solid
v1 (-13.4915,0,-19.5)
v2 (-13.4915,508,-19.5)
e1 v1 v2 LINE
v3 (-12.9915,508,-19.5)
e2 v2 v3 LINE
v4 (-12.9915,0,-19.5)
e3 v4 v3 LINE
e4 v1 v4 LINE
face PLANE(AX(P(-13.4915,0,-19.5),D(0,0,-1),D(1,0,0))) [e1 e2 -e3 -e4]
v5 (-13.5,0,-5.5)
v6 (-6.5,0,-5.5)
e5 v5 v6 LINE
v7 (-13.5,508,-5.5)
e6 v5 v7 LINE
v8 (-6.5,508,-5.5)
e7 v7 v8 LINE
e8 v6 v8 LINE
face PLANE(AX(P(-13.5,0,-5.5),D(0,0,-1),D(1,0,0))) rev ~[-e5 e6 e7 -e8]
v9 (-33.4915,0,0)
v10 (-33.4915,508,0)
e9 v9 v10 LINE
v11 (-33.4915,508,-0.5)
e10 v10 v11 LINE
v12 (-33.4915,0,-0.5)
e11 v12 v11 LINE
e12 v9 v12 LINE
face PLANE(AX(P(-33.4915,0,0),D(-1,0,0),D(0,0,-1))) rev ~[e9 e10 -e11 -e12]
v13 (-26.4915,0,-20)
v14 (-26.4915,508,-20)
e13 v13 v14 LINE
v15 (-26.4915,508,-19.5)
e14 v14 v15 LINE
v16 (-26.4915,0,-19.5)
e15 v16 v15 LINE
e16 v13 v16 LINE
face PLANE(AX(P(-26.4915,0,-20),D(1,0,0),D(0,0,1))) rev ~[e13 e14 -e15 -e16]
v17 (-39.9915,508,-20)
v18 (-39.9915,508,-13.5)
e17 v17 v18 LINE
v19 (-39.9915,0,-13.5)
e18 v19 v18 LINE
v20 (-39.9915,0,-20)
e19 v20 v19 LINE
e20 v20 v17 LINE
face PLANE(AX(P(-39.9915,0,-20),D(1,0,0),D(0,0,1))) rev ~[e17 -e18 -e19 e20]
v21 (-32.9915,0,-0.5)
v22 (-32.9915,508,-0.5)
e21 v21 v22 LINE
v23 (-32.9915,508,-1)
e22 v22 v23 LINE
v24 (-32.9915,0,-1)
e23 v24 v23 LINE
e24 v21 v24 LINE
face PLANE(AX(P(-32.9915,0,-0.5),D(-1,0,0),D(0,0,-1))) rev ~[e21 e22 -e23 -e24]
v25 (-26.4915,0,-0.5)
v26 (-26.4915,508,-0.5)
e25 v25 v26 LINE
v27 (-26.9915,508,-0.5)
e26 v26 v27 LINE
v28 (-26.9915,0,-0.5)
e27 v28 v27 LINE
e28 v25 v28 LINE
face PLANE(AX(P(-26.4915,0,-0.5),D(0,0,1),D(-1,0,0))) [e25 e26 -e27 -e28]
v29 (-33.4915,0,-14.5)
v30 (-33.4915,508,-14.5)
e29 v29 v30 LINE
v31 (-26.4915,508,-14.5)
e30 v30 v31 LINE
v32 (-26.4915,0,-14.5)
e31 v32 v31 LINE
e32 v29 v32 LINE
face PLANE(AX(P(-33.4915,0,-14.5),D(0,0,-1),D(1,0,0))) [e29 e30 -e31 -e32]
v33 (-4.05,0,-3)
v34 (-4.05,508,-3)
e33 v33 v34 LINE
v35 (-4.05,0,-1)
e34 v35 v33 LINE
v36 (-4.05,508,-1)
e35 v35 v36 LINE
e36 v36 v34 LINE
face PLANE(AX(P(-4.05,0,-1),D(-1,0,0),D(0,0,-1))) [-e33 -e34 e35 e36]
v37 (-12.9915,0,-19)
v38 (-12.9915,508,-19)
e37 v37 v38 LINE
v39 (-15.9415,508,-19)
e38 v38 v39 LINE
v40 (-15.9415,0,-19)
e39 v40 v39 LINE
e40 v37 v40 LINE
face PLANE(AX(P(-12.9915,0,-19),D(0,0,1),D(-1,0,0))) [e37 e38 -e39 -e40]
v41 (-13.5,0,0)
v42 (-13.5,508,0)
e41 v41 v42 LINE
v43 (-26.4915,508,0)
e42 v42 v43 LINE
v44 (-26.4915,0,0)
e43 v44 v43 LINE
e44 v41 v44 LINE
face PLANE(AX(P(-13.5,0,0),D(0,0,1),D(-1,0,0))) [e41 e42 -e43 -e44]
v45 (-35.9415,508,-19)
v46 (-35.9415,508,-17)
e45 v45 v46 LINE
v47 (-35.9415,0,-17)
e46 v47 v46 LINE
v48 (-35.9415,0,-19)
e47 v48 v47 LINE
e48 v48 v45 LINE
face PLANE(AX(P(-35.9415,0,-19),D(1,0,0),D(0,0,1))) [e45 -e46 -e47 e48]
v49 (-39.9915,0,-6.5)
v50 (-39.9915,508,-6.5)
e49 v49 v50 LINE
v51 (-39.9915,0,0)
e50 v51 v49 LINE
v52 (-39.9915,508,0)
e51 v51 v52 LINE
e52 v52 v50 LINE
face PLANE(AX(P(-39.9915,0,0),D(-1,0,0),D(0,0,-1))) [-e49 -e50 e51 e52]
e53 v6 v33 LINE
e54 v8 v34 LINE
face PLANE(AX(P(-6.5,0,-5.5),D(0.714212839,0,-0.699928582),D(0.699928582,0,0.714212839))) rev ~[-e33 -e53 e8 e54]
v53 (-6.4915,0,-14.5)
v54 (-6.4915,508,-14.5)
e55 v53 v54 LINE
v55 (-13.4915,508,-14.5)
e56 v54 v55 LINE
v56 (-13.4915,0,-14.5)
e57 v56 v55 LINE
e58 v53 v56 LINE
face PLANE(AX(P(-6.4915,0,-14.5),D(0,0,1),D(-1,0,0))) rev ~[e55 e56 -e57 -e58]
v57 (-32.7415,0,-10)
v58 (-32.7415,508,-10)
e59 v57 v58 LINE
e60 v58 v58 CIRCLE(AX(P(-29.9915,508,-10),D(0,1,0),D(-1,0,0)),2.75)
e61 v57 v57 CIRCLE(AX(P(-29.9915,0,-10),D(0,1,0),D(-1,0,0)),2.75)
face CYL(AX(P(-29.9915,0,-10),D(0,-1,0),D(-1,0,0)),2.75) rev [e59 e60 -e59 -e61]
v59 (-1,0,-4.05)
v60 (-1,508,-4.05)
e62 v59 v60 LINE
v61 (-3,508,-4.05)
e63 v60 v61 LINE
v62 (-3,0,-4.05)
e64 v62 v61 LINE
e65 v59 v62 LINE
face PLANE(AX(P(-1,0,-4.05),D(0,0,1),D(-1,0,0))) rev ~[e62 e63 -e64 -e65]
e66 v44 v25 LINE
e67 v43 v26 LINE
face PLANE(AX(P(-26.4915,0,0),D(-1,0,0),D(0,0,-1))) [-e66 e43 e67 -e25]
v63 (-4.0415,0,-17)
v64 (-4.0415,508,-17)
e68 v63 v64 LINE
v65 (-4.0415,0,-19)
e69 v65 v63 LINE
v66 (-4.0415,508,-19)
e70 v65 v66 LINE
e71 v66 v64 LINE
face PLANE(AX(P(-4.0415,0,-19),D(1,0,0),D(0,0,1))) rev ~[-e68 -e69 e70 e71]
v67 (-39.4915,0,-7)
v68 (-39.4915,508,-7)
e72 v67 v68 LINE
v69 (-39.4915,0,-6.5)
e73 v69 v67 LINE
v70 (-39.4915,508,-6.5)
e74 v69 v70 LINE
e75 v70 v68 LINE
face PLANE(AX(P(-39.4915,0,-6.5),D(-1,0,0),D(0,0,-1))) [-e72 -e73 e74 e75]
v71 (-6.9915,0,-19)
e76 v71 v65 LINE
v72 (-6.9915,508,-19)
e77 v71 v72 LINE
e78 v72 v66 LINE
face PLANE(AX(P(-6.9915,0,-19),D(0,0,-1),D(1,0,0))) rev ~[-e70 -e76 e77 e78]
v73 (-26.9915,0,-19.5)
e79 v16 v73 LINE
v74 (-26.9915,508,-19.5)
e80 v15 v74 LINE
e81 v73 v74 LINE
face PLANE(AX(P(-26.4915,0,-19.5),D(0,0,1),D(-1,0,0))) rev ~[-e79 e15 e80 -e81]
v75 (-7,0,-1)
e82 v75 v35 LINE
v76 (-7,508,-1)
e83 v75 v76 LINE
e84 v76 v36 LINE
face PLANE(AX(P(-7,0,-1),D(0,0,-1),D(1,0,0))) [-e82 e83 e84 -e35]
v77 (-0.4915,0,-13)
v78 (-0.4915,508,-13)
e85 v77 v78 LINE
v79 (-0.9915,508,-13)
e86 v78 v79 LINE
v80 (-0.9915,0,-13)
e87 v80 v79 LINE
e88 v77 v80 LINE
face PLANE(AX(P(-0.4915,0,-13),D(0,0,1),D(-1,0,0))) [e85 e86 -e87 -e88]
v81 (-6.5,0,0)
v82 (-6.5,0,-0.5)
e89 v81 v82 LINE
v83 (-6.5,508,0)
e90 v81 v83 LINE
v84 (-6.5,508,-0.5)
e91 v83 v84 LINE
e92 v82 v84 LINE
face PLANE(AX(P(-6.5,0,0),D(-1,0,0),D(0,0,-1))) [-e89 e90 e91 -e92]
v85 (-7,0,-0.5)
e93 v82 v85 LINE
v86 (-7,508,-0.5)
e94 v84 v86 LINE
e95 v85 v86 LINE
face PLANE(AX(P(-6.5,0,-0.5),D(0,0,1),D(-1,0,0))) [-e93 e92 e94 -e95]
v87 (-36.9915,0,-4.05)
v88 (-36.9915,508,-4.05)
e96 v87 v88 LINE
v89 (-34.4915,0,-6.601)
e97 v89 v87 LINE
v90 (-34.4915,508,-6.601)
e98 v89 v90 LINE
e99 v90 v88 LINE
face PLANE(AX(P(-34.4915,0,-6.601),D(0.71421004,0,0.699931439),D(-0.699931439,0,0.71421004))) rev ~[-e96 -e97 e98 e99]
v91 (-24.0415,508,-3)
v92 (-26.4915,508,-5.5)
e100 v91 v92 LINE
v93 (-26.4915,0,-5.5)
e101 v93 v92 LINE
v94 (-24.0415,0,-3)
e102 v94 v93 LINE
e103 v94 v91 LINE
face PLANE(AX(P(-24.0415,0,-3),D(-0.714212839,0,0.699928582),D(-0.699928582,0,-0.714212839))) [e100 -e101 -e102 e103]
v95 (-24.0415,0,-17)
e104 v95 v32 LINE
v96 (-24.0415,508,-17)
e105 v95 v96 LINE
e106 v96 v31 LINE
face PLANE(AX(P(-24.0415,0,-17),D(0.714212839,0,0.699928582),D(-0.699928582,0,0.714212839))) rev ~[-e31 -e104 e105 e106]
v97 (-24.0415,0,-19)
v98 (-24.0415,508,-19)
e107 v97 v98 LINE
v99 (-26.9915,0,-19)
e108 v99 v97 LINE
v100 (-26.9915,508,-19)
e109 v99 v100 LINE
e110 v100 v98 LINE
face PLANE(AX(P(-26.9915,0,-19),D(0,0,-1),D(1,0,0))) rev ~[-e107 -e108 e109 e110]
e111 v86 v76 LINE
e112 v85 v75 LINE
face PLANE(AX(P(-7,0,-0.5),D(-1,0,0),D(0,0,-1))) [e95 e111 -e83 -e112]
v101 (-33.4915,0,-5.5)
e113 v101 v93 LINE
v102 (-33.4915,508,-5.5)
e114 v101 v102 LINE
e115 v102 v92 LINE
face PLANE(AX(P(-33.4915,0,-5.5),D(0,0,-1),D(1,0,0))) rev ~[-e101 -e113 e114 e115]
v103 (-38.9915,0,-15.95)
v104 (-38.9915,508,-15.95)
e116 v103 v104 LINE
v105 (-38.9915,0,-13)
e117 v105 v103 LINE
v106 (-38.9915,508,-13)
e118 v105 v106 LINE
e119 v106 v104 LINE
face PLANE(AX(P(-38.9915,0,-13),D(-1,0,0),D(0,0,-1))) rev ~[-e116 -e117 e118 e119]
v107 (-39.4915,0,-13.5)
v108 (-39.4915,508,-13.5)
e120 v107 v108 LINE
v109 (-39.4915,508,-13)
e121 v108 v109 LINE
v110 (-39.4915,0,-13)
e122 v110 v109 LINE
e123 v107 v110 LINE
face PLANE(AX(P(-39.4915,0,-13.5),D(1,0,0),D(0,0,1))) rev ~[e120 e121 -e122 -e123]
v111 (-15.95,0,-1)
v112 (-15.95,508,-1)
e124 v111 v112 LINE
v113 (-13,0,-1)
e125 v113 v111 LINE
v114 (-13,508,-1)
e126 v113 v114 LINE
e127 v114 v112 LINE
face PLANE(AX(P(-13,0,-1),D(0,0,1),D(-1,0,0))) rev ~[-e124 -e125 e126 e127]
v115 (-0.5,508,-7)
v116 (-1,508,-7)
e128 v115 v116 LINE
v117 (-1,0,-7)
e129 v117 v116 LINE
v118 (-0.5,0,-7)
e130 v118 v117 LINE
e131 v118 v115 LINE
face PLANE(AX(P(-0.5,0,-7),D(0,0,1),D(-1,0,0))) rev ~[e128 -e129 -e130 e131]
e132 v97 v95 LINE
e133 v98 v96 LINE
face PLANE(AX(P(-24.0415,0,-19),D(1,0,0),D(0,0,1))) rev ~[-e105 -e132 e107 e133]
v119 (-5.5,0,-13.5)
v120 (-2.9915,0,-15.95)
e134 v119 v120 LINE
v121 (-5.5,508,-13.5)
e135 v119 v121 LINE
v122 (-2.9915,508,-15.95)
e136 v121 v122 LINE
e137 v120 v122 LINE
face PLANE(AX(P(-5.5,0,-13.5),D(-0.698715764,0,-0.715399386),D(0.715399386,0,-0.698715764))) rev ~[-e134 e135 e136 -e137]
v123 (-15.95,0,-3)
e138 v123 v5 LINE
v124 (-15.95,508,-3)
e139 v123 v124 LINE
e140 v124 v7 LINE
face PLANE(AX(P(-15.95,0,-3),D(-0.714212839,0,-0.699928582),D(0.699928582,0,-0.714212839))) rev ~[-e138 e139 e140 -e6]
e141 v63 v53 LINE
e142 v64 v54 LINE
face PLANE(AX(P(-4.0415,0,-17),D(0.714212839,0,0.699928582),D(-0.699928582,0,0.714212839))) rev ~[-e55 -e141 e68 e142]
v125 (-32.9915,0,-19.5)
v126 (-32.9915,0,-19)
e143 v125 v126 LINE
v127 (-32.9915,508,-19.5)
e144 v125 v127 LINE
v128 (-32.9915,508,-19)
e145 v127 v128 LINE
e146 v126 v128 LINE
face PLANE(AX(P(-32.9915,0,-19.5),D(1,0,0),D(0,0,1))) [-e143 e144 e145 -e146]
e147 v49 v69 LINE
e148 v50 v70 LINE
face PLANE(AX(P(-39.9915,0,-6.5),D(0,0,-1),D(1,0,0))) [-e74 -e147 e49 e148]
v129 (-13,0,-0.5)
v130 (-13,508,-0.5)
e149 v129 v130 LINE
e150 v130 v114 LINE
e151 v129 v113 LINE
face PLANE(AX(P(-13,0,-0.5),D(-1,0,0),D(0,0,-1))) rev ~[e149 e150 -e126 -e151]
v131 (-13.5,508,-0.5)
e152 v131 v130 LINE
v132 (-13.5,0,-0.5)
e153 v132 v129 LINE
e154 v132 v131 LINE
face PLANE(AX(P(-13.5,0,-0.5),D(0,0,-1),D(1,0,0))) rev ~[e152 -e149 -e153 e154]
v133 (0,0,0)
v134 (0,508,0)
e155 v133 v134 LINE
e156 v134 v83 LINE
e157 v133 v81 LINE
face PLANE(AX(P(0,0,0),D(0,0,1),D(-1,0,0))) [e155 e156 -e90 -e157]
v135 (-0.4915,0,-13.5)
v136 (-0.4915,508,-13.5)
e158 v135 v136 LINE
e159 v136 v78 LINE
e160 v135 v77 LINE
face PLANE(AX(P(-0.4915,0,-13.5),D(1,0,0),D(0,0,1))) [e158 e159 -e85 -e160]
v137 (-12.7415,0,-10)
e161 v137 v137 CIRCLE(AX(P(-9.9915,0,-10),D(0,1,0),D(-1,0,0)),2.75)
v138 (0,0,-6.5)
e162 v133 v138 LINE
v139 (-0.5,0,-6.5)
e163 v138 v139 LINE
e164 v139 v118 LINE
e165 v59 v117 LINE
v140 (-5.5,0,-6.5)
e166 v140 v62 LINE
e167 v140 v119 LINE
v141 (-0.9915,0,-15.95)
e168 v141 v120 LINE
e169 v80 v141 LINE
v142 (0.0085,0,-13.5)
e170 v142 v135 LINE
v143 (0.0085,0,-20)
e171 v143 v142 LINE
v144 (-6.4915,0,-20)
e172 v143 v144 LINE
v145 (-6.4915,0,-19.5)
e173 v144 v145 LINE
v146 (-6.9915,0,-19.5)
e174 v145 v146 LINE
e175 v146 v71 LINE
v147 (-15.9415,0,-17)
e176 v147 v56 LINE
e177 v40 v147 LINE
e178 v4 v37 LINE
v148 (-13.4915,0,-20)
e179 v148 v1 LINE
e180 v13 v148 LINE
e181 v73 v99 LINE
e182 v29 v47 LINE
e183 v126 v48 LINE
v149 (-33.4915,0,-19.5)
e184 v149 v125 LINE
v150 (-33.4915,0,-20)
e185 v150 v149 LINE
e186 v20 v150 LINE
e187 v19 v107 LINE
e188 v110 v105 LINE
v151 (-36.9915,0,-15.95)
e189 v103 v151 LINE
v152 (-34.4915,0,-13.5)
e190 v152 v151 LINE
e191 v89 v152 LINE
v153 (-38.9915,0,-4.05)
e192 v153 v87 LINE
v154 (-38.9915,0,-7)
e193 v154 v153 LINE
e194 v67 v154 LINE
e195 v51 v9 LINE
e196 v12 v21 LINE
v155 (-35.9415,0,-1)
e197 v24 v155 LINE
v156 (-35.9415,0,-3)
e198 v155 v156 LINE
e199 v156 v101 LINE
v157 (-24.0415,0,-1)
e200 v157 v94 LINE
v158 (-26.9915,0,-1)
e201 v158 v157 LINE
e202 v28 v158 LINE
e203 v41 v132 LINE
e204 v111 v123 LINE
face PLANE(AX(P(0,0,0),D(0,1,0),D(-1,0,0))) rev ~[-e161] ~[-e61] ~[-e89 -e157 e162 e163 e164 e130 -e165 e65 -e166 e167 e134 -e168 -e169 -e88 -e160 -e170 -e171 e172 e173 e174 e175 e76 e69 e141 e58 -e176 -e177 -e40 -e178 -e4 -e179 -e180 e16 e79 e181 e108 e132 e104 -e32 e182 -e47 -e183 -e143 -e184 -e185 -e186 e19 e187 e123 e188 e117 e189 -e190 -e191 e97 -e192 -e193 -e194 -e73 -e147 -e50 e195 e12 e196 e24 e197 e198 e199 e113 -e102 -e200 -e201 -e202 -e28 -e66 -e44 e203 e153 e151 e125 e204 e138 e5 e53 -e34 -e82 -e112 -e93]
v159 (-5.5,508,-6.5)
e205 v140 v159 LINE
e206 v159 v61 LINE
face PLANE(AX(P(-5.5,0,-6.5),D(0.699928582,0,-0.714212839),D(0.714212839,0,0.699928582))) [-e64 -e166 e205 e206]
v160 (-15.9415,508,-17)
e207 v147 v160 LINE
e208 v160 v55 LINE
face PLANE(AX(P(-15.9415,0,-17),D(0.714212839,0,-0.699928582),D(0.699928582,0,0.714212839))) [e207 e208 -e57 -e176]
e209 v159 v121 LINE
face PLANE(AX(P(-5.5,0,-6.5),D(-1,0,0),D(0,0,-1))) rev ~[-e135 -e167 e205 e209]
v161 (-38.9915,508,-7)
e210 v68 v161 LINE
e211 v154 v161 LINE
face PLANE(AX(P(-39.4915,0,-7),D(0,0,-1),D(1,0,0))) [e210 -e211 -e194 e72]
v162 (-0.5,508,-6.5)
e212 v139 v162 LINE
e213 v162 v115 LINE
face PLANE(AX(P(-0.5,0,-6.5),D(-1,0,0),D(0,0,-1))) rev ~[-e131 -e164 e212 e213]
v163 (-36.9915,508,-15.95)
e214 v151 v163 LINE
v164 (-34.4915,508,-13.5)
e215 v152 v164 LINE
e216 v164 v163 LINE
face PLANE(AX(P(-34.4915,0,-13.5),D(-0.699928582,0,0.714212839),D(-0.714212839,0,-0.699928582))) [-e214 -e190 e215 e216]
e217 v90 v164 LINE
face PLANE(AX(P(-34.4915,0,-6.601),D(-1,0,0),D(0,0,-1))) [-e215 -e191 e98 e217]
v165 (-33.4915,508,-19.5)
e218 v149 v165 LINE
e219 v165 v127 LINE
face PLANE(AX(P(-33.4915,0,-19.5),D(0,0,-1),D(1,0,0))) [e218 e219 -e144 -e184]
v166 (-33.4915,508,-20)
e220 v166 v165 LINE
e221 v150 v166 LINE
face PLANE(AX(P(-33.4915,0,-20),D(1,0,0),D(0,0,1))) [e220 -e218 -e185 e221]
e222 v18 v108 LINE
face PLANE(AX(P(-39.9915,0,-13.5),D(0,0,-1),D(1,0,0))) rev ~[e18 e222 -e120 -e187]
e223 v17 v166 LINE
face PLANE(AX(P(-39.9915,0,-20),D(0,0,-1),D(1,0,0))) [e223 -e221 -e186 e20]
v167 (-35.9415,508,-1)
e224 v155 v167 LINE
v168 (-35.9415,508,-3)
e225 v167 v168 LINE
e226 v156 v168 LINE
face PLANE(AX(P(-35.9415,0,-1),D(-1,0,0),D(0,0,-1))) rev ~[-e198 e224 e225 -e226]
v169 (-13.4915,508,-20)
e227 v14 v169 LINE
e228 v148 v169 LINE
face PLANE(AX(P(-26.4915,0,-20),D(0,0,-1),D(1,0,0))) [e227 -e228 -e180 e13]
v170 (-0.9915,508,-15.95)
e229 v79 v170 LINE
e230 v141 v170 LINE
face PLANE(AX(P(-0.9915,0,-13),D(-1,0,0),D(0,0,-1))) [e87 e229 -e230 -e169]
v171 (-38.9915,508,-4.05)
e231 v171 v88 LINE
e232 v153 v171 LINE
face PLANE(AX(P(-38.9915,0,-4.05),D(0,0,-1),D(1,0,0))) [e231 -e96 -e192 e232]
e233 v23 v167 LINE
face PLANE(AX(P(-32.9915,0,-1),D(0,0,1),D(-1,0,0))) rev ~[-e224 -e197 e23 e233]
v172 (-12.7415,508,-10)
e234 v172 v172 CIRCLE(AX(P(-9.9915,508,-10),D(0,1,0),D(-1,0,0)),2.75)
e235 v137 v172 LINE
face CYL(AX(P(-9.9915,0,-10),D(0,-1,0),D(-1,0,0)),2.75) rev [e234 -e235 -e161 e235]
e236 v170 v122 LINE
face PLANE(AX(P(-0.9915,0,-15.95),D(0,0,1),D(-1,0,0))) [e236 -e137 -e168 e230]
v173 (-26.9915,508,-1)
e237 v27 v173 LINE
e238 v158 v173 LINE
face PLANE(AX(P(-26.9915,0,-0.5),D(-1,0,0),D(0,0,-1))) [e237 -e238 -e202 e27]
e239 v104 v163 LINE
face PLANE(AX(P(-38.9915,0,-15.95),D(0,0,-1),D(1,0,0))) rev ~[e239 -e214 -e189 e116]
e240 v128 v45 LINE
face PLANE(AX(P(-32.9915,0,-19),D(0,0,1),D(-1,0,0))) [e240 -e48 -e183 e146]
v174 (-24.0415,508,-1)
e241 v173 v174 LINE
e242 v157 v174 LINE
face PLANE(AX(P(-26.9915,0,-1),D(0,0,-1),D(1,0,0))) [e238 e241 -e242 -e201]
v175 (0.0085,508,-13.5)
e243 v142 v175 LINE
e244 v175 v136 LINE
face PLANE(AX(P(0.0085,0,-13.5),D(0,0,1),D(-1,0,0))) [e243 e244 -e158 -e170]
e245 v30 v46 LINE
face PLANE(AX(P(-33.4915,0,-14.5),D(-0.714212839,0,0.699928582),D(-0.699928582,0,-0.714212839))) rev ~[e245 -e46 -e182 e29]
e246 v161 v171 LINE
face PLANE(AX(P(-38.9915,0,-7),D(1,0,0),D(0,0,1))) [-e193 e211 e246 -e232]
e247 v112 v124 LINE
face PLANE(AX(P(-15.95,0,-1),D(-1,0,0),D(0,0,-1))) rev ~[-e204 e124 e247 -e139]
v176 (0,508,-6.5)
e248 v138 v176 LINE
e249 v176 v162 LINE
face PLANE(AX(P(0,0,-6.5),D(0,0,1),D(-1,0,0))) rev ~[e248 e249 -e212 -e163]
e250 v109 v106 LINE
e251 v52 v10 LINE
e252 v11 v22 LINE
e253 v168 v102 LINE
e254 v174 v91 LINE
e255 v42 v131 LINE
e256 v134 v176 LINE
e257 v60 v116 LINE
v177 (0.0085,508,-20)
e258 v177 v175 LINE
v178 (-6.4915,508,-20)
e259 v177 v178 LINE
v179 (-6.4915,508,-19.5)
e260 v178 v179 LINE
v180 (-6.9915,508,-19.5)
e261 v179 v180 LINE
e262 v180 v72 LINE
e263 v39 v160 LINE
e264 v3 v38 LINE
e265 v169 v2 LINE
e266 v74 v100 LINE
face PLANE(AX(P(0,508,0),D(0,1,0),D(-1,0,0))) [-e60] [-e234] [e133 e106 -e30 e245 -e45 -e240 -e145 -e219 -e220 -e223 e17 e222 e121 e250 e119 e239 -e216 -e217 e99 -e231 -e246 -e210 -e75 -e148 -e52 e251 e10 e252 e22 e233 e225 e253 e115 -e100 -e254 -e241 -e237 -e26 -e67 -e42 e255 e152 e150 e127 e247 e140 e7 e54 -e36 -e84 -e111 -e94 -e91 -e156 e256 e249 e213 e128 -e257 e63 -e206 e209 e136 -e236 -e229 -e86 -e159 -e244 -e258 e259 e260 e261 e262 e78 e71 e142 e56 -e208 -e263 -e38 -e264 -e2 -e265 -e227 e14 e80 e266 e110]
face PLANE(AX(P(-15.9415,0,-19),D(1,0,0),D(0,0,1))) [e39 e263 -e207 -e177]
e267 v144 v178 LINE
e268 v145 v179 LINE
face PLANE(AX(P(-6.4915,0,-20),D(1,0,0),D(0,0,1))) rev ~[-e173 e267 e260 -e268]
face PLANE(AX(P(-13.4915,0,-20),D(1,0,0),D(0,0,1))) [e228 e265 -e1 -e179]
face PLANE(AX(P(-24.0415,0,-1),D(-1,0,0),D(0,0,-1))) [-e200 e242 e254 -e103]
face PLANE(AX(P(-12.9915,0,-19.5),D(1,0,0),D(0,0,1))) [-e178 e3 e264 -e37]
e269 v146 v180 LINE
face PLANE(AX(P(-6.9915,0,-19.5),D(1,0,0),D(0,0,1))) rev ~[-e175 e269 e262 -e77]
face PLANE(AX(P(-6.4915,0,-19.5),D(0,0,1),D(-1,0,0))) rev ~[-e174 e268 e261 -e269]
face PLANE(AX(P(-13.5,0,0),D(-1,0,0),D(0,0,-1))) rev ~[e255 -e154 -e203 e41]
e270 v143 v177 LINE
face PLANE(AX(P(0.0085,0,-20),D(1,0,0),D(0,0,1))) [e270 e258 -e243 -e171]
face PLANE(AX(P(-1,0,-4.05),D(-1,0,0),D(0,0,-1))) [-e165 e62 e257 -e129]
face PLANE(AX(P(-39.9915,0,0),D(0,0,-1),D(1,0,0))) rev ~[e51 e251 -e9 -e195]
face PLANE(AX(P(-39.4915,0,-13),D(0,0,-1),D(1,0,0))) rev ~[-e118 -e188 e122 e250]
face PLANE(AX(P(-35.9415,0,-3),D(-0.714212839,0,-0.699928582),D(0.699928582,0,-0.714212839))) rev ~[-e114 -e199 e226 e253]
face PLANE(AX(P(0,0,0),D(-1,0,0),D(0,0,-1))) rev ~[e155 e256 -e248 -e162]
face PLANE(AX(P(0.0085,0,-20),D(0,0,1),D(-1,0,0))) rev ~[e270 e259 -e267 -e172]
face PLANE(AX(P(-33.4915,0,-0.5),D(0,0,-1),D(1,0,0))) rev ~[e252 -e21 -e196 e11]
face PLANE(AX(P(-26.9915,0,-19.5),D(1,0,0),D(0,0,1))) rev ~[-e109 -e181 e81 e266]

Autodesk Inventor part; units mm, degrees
ref_plane "YZ Plane" through (0, 0, 0) normal (1, 0, 0) x (0, 1, 0)
ref_plane "XZ Plane" through (0, 0, 0) normal (0, 1, 0) x (-1, 0, 0)
ref_plane "XY Plane" through (0, 0, 0) normal (0, 0, 1) x (1, 0, 0)
sketch "Sketch1" plane through (0, 0, 0) normal (0, 1, 0) x (-1, 0, 0)
  circle A0 centre (29.9915, -10) radius 2.75
  circle A1 centre (9.9915, -10) radius 2.75
  line L0 (0, 0) -> (0, -6.5)
  line L1 (-0.0085, -20) -> (-0.0085, -13.5)
  line L2 (0, -6.5) -> (0.5, -6.5)
  line L3 (0.5, -6.5) -> (0.5, -7)
  line L4 (0.5, -7) -> (1, -7)
  line L5 (-0.0085, -13.5) -> (0.4915, -13.5)
  line L6 (0.4915, -13.5) -> (0.4915, -13)
  line L7 (0.4915, -13) -> (0.9915, -13)
  line L8 (1, -4.05) -> (3, -4.05)
  line L9 (0.9915, -15.95) -> (2.9915, -15.95)
  line L10 (5.5, -6.5) -> (5.5, -13.5)
  line L11 (5.5, -13.5) -> (2.9915, -15.95)
  line L12 (5.5, -6.5) -> (3, -4.05)
  line L13 (1, -4.05) -> (1, -7)
  line L14 (0.9915, -13) -> (0.9915, -15.95)
  line L15 (-0.0085, -20) -> (6.4915, -20)
  line L16 (6.4915, -20) -> (6.4915, -19.5)
  line L17 (6.4915, -19.5) -> (6.9915, -19.5)
  line L18 (6.9915, -19.5) -> (6.9915, -19)
  line L19 (6.9915, -19) -> (4.0415, -19)
  line L20 (4.0415, -19) -> (4.0415, -17)
  line L21 (13.4915, -20) -> (13.4915, -19.5)
  line L22 (13.4915, -19.5) -> (12.9915, -19.5)
  line L23 (12.9915, -19.5) -> (12.9915, -19)
  line L24 (12.9915, -19) -> (15.9415, -19)
  line L25 (15.9415, -19) -> (15.9415, -17)
  line L26 (15.9415, -17) -> (13.4915, -14.5)
  line L27 (6.4915, -14.5) -> (13.4915, -14.5)
  line L28 (4.0415, -17) -> (6.4915, -14.5)
  line L29 (39.9915, 0) -> (39.9915, -6.5)
  line L30 (39.9915, -6.5) -> (39.4915, -6.5)
  line L31 (39.4915, -6.5) -> (39.4915, -7)
  line L32 (39.4915, -7) -> (38.9915, -7)
  line L33 (38.9915, -7) -> (38.9915, -4.05)
  line L34 (38.9915, -4.05) -> (36.9915, -4.05)
  line L35 (39.9915, -20) -> (39.9915, -13.5)
  line L36 (39.9915, -13.5) -> (39.4915, -13.5)
  line L37 (39.4915, -13.5) -> (39.4915, -13)
  line L38 (39.4915, -13) -> (38.9915, -13)
  line L39 (38.9915, -13) -> (38.9915, -15.95)
  line L40 (38.9915, -15.95) -> (36.9915, -15.95)
  line L41 (34.4915, -6.601) -> (34.4915, -13.5)
  line L42 (34.4915, -13.5) -> (36.9915, -15.95)
  line L43 (34.4915, -6.601) -> (36.9915, -4.05)
  line L44 (39.9915, -20) -> (33.4915, -20)
  line L45 (33.4915, -20) -> (33.4915, -19.5)
  line L46 (33.4915, -19.5) -> (32.9915, -19.5)
  line L47 (32.9915, -19.5) -> (32.9915, -19)
  line L48 (32.9915, -19) -> (35.9415, -19)
  line L49 (35.9415, -19) -> (35.9415, -17)
  line L50 (26.4915, -20) -> (26.4915, -19.5)
  line L51 (26.4915, -19.5) -> (26.9915, -19.5)
  line L52 (26.9915, -19.5) -> (26.9915, -19)
  line L53 (26.9915, -19) -> (24.0415, -19)
  line L54 (24.0415, -19) -> (24.0415, -17)
  line L55 (33.4915, -14.5) -> (26.4915, -14.5)
  line L56 (24.0415, -17) -> (26.4915, -14.5)
  line L57 (33.4915, -14.5) -> (35.9415, -17)
  line L58 (26.4915, -20) -> (13.4915, -20)
  line L59 (39.9915, 0) -> (33.4915, 0)
  line L60 (33.4915, 0) -> (33.4915, -0.5)
  line L61 (33.4915, -0.5) -> (32.9915, -0.5)
  line L62 (32.9915, -0.5) -> (32.9915, -1)
  line L63 (32.9915, -1) -> (35.9415, -1)
  line L64 (35.9415, -1) -> (35.9415, -3)
  line L65 (26.4915, 0) -> (26.4915, -0.5)
  line L66 (26.4915, -0.5) -> (26.9915, -0.5)
  line L67 (26.9915, -0.5) -> (26.9915, -1)
  line L68 (26.9915, -1) -> (24.0415, -1)
  line L69 (24.0415, -1) -> (24.0415, -3)
  line L70 (33.4915, -5.5) -> (26.4915, -5.5)
  line L71 (24.0415, -3) -> (26.4915, -5.5)
  line L72 (35.9415, -3) -> (33.4915, -5.5)
  line L73 (0, 0) -> (6.5, 0)
  line L74 (6.5, 0) -> (6.5, -0.5)
  line L75 (6.5, -0.5) -> (7, -0.5)
  line L76 (7, -0.5) -> (7, -1)
  line L77 (7, -1) -> (4.05, -1)
  line L78 (4.05, -1) -> (4.05, -3)
  line L79 (13.5, 0) -> (13.5, -0.5)
  line L80 (13.5, -0.5) -> (13, -0.5)
  line L81 (13, -0.5) -> (13, -1)
  line L82 (13, -1) -> (15.95, -1)
  line L83 (15.95, -1) -> (15.95, -3)
  line L84 (13.5, -5.5) -> (6.5, -5.5)
  line L85 (6.5, -5.5) -> (4.05, -3)
  line L86 (15.95, -3) -> (13.5, -5.5)
  line L87 (13.5, 0) -> (26.4915, 0)
  dimension "d0" = 40
  dimension "d1" = 20
  dimension "d2" = 5.5
  dimension "d3" = 5.5
  dimension "d4" = 20
  dimension "d11" = 6.5
  dimension "d12" = 6.5
  dimension "d13" = 0.5
  dimension "d14" = 0.5
  dimension "d15" = 0.5
  dimension "d16" = 0.5
  dimension "d17" = 0.5
  dimension "d18" = 0.5
  dimension "d19" = 5.5
  dimension "d20" = 11.9
  dimension "d21" = 6.5
  dimension "d22" = 0.5
  dimension "d23" = 0.5
  dimension "d24" = 0.5
  dimension "d25" = 0.5
  dimension "d26" = 0.5
  dimension "d27" = 0.5
  dimension "d28" = 7
  dimension "d29" = 11.9
  dimension "d31" = 4.05
  dimension "d32" = 2.95
  dimension "d34" = 2
  dimension "d35" = 2
  dimension "d36" = 2
  dimension "d37" = 2
  dimension "d39" = 7
  dimension "d40" = 6.5
  dimension "d41" = 0.5
  dimension "d42" = 0.5
  dimension "d43" = 0.5
  dimension "d44" = 2.95
  dimension "d45" = 2
  dimension "d46" = 6.5
  dimension "d47" = 0.5
  dimension "d48" = 0.5
  dimension "d49" = 0.5
  dimension "d50" = 2.95
  dimension "d51" = 2
  dimension "d52" = 5.5
  dimension "d53" = 6.5
  dimension "d54" = 0.5
  dimension "d55" = 0.5
  dimension "d56" = 0.5
  dimension "d57" = 2.95
  dimension "d58" = 2
  dimension "d59" = 0.5
  dimension "d60" = 0.5
  dimension "d61" = 0.5
  dimension "d62" = 2.95
  dimension "d63" = 2
  dimension "d64" = 7
  dimension "d66" = 6.5
  dimension "d67" = 0.5
  dimension "d68" = 0.5
  dimension "d69" = 0.5
  dimension "d70" = 2.95
  dimension "d71" = 2
  dimension "d72" = 0.5
  dimension "d73" = 0.5
extrude "Extrusion1" add sketch "Sketch1" along normal blind 508
properties part number "Tslot_2040extrusion_20inch"
